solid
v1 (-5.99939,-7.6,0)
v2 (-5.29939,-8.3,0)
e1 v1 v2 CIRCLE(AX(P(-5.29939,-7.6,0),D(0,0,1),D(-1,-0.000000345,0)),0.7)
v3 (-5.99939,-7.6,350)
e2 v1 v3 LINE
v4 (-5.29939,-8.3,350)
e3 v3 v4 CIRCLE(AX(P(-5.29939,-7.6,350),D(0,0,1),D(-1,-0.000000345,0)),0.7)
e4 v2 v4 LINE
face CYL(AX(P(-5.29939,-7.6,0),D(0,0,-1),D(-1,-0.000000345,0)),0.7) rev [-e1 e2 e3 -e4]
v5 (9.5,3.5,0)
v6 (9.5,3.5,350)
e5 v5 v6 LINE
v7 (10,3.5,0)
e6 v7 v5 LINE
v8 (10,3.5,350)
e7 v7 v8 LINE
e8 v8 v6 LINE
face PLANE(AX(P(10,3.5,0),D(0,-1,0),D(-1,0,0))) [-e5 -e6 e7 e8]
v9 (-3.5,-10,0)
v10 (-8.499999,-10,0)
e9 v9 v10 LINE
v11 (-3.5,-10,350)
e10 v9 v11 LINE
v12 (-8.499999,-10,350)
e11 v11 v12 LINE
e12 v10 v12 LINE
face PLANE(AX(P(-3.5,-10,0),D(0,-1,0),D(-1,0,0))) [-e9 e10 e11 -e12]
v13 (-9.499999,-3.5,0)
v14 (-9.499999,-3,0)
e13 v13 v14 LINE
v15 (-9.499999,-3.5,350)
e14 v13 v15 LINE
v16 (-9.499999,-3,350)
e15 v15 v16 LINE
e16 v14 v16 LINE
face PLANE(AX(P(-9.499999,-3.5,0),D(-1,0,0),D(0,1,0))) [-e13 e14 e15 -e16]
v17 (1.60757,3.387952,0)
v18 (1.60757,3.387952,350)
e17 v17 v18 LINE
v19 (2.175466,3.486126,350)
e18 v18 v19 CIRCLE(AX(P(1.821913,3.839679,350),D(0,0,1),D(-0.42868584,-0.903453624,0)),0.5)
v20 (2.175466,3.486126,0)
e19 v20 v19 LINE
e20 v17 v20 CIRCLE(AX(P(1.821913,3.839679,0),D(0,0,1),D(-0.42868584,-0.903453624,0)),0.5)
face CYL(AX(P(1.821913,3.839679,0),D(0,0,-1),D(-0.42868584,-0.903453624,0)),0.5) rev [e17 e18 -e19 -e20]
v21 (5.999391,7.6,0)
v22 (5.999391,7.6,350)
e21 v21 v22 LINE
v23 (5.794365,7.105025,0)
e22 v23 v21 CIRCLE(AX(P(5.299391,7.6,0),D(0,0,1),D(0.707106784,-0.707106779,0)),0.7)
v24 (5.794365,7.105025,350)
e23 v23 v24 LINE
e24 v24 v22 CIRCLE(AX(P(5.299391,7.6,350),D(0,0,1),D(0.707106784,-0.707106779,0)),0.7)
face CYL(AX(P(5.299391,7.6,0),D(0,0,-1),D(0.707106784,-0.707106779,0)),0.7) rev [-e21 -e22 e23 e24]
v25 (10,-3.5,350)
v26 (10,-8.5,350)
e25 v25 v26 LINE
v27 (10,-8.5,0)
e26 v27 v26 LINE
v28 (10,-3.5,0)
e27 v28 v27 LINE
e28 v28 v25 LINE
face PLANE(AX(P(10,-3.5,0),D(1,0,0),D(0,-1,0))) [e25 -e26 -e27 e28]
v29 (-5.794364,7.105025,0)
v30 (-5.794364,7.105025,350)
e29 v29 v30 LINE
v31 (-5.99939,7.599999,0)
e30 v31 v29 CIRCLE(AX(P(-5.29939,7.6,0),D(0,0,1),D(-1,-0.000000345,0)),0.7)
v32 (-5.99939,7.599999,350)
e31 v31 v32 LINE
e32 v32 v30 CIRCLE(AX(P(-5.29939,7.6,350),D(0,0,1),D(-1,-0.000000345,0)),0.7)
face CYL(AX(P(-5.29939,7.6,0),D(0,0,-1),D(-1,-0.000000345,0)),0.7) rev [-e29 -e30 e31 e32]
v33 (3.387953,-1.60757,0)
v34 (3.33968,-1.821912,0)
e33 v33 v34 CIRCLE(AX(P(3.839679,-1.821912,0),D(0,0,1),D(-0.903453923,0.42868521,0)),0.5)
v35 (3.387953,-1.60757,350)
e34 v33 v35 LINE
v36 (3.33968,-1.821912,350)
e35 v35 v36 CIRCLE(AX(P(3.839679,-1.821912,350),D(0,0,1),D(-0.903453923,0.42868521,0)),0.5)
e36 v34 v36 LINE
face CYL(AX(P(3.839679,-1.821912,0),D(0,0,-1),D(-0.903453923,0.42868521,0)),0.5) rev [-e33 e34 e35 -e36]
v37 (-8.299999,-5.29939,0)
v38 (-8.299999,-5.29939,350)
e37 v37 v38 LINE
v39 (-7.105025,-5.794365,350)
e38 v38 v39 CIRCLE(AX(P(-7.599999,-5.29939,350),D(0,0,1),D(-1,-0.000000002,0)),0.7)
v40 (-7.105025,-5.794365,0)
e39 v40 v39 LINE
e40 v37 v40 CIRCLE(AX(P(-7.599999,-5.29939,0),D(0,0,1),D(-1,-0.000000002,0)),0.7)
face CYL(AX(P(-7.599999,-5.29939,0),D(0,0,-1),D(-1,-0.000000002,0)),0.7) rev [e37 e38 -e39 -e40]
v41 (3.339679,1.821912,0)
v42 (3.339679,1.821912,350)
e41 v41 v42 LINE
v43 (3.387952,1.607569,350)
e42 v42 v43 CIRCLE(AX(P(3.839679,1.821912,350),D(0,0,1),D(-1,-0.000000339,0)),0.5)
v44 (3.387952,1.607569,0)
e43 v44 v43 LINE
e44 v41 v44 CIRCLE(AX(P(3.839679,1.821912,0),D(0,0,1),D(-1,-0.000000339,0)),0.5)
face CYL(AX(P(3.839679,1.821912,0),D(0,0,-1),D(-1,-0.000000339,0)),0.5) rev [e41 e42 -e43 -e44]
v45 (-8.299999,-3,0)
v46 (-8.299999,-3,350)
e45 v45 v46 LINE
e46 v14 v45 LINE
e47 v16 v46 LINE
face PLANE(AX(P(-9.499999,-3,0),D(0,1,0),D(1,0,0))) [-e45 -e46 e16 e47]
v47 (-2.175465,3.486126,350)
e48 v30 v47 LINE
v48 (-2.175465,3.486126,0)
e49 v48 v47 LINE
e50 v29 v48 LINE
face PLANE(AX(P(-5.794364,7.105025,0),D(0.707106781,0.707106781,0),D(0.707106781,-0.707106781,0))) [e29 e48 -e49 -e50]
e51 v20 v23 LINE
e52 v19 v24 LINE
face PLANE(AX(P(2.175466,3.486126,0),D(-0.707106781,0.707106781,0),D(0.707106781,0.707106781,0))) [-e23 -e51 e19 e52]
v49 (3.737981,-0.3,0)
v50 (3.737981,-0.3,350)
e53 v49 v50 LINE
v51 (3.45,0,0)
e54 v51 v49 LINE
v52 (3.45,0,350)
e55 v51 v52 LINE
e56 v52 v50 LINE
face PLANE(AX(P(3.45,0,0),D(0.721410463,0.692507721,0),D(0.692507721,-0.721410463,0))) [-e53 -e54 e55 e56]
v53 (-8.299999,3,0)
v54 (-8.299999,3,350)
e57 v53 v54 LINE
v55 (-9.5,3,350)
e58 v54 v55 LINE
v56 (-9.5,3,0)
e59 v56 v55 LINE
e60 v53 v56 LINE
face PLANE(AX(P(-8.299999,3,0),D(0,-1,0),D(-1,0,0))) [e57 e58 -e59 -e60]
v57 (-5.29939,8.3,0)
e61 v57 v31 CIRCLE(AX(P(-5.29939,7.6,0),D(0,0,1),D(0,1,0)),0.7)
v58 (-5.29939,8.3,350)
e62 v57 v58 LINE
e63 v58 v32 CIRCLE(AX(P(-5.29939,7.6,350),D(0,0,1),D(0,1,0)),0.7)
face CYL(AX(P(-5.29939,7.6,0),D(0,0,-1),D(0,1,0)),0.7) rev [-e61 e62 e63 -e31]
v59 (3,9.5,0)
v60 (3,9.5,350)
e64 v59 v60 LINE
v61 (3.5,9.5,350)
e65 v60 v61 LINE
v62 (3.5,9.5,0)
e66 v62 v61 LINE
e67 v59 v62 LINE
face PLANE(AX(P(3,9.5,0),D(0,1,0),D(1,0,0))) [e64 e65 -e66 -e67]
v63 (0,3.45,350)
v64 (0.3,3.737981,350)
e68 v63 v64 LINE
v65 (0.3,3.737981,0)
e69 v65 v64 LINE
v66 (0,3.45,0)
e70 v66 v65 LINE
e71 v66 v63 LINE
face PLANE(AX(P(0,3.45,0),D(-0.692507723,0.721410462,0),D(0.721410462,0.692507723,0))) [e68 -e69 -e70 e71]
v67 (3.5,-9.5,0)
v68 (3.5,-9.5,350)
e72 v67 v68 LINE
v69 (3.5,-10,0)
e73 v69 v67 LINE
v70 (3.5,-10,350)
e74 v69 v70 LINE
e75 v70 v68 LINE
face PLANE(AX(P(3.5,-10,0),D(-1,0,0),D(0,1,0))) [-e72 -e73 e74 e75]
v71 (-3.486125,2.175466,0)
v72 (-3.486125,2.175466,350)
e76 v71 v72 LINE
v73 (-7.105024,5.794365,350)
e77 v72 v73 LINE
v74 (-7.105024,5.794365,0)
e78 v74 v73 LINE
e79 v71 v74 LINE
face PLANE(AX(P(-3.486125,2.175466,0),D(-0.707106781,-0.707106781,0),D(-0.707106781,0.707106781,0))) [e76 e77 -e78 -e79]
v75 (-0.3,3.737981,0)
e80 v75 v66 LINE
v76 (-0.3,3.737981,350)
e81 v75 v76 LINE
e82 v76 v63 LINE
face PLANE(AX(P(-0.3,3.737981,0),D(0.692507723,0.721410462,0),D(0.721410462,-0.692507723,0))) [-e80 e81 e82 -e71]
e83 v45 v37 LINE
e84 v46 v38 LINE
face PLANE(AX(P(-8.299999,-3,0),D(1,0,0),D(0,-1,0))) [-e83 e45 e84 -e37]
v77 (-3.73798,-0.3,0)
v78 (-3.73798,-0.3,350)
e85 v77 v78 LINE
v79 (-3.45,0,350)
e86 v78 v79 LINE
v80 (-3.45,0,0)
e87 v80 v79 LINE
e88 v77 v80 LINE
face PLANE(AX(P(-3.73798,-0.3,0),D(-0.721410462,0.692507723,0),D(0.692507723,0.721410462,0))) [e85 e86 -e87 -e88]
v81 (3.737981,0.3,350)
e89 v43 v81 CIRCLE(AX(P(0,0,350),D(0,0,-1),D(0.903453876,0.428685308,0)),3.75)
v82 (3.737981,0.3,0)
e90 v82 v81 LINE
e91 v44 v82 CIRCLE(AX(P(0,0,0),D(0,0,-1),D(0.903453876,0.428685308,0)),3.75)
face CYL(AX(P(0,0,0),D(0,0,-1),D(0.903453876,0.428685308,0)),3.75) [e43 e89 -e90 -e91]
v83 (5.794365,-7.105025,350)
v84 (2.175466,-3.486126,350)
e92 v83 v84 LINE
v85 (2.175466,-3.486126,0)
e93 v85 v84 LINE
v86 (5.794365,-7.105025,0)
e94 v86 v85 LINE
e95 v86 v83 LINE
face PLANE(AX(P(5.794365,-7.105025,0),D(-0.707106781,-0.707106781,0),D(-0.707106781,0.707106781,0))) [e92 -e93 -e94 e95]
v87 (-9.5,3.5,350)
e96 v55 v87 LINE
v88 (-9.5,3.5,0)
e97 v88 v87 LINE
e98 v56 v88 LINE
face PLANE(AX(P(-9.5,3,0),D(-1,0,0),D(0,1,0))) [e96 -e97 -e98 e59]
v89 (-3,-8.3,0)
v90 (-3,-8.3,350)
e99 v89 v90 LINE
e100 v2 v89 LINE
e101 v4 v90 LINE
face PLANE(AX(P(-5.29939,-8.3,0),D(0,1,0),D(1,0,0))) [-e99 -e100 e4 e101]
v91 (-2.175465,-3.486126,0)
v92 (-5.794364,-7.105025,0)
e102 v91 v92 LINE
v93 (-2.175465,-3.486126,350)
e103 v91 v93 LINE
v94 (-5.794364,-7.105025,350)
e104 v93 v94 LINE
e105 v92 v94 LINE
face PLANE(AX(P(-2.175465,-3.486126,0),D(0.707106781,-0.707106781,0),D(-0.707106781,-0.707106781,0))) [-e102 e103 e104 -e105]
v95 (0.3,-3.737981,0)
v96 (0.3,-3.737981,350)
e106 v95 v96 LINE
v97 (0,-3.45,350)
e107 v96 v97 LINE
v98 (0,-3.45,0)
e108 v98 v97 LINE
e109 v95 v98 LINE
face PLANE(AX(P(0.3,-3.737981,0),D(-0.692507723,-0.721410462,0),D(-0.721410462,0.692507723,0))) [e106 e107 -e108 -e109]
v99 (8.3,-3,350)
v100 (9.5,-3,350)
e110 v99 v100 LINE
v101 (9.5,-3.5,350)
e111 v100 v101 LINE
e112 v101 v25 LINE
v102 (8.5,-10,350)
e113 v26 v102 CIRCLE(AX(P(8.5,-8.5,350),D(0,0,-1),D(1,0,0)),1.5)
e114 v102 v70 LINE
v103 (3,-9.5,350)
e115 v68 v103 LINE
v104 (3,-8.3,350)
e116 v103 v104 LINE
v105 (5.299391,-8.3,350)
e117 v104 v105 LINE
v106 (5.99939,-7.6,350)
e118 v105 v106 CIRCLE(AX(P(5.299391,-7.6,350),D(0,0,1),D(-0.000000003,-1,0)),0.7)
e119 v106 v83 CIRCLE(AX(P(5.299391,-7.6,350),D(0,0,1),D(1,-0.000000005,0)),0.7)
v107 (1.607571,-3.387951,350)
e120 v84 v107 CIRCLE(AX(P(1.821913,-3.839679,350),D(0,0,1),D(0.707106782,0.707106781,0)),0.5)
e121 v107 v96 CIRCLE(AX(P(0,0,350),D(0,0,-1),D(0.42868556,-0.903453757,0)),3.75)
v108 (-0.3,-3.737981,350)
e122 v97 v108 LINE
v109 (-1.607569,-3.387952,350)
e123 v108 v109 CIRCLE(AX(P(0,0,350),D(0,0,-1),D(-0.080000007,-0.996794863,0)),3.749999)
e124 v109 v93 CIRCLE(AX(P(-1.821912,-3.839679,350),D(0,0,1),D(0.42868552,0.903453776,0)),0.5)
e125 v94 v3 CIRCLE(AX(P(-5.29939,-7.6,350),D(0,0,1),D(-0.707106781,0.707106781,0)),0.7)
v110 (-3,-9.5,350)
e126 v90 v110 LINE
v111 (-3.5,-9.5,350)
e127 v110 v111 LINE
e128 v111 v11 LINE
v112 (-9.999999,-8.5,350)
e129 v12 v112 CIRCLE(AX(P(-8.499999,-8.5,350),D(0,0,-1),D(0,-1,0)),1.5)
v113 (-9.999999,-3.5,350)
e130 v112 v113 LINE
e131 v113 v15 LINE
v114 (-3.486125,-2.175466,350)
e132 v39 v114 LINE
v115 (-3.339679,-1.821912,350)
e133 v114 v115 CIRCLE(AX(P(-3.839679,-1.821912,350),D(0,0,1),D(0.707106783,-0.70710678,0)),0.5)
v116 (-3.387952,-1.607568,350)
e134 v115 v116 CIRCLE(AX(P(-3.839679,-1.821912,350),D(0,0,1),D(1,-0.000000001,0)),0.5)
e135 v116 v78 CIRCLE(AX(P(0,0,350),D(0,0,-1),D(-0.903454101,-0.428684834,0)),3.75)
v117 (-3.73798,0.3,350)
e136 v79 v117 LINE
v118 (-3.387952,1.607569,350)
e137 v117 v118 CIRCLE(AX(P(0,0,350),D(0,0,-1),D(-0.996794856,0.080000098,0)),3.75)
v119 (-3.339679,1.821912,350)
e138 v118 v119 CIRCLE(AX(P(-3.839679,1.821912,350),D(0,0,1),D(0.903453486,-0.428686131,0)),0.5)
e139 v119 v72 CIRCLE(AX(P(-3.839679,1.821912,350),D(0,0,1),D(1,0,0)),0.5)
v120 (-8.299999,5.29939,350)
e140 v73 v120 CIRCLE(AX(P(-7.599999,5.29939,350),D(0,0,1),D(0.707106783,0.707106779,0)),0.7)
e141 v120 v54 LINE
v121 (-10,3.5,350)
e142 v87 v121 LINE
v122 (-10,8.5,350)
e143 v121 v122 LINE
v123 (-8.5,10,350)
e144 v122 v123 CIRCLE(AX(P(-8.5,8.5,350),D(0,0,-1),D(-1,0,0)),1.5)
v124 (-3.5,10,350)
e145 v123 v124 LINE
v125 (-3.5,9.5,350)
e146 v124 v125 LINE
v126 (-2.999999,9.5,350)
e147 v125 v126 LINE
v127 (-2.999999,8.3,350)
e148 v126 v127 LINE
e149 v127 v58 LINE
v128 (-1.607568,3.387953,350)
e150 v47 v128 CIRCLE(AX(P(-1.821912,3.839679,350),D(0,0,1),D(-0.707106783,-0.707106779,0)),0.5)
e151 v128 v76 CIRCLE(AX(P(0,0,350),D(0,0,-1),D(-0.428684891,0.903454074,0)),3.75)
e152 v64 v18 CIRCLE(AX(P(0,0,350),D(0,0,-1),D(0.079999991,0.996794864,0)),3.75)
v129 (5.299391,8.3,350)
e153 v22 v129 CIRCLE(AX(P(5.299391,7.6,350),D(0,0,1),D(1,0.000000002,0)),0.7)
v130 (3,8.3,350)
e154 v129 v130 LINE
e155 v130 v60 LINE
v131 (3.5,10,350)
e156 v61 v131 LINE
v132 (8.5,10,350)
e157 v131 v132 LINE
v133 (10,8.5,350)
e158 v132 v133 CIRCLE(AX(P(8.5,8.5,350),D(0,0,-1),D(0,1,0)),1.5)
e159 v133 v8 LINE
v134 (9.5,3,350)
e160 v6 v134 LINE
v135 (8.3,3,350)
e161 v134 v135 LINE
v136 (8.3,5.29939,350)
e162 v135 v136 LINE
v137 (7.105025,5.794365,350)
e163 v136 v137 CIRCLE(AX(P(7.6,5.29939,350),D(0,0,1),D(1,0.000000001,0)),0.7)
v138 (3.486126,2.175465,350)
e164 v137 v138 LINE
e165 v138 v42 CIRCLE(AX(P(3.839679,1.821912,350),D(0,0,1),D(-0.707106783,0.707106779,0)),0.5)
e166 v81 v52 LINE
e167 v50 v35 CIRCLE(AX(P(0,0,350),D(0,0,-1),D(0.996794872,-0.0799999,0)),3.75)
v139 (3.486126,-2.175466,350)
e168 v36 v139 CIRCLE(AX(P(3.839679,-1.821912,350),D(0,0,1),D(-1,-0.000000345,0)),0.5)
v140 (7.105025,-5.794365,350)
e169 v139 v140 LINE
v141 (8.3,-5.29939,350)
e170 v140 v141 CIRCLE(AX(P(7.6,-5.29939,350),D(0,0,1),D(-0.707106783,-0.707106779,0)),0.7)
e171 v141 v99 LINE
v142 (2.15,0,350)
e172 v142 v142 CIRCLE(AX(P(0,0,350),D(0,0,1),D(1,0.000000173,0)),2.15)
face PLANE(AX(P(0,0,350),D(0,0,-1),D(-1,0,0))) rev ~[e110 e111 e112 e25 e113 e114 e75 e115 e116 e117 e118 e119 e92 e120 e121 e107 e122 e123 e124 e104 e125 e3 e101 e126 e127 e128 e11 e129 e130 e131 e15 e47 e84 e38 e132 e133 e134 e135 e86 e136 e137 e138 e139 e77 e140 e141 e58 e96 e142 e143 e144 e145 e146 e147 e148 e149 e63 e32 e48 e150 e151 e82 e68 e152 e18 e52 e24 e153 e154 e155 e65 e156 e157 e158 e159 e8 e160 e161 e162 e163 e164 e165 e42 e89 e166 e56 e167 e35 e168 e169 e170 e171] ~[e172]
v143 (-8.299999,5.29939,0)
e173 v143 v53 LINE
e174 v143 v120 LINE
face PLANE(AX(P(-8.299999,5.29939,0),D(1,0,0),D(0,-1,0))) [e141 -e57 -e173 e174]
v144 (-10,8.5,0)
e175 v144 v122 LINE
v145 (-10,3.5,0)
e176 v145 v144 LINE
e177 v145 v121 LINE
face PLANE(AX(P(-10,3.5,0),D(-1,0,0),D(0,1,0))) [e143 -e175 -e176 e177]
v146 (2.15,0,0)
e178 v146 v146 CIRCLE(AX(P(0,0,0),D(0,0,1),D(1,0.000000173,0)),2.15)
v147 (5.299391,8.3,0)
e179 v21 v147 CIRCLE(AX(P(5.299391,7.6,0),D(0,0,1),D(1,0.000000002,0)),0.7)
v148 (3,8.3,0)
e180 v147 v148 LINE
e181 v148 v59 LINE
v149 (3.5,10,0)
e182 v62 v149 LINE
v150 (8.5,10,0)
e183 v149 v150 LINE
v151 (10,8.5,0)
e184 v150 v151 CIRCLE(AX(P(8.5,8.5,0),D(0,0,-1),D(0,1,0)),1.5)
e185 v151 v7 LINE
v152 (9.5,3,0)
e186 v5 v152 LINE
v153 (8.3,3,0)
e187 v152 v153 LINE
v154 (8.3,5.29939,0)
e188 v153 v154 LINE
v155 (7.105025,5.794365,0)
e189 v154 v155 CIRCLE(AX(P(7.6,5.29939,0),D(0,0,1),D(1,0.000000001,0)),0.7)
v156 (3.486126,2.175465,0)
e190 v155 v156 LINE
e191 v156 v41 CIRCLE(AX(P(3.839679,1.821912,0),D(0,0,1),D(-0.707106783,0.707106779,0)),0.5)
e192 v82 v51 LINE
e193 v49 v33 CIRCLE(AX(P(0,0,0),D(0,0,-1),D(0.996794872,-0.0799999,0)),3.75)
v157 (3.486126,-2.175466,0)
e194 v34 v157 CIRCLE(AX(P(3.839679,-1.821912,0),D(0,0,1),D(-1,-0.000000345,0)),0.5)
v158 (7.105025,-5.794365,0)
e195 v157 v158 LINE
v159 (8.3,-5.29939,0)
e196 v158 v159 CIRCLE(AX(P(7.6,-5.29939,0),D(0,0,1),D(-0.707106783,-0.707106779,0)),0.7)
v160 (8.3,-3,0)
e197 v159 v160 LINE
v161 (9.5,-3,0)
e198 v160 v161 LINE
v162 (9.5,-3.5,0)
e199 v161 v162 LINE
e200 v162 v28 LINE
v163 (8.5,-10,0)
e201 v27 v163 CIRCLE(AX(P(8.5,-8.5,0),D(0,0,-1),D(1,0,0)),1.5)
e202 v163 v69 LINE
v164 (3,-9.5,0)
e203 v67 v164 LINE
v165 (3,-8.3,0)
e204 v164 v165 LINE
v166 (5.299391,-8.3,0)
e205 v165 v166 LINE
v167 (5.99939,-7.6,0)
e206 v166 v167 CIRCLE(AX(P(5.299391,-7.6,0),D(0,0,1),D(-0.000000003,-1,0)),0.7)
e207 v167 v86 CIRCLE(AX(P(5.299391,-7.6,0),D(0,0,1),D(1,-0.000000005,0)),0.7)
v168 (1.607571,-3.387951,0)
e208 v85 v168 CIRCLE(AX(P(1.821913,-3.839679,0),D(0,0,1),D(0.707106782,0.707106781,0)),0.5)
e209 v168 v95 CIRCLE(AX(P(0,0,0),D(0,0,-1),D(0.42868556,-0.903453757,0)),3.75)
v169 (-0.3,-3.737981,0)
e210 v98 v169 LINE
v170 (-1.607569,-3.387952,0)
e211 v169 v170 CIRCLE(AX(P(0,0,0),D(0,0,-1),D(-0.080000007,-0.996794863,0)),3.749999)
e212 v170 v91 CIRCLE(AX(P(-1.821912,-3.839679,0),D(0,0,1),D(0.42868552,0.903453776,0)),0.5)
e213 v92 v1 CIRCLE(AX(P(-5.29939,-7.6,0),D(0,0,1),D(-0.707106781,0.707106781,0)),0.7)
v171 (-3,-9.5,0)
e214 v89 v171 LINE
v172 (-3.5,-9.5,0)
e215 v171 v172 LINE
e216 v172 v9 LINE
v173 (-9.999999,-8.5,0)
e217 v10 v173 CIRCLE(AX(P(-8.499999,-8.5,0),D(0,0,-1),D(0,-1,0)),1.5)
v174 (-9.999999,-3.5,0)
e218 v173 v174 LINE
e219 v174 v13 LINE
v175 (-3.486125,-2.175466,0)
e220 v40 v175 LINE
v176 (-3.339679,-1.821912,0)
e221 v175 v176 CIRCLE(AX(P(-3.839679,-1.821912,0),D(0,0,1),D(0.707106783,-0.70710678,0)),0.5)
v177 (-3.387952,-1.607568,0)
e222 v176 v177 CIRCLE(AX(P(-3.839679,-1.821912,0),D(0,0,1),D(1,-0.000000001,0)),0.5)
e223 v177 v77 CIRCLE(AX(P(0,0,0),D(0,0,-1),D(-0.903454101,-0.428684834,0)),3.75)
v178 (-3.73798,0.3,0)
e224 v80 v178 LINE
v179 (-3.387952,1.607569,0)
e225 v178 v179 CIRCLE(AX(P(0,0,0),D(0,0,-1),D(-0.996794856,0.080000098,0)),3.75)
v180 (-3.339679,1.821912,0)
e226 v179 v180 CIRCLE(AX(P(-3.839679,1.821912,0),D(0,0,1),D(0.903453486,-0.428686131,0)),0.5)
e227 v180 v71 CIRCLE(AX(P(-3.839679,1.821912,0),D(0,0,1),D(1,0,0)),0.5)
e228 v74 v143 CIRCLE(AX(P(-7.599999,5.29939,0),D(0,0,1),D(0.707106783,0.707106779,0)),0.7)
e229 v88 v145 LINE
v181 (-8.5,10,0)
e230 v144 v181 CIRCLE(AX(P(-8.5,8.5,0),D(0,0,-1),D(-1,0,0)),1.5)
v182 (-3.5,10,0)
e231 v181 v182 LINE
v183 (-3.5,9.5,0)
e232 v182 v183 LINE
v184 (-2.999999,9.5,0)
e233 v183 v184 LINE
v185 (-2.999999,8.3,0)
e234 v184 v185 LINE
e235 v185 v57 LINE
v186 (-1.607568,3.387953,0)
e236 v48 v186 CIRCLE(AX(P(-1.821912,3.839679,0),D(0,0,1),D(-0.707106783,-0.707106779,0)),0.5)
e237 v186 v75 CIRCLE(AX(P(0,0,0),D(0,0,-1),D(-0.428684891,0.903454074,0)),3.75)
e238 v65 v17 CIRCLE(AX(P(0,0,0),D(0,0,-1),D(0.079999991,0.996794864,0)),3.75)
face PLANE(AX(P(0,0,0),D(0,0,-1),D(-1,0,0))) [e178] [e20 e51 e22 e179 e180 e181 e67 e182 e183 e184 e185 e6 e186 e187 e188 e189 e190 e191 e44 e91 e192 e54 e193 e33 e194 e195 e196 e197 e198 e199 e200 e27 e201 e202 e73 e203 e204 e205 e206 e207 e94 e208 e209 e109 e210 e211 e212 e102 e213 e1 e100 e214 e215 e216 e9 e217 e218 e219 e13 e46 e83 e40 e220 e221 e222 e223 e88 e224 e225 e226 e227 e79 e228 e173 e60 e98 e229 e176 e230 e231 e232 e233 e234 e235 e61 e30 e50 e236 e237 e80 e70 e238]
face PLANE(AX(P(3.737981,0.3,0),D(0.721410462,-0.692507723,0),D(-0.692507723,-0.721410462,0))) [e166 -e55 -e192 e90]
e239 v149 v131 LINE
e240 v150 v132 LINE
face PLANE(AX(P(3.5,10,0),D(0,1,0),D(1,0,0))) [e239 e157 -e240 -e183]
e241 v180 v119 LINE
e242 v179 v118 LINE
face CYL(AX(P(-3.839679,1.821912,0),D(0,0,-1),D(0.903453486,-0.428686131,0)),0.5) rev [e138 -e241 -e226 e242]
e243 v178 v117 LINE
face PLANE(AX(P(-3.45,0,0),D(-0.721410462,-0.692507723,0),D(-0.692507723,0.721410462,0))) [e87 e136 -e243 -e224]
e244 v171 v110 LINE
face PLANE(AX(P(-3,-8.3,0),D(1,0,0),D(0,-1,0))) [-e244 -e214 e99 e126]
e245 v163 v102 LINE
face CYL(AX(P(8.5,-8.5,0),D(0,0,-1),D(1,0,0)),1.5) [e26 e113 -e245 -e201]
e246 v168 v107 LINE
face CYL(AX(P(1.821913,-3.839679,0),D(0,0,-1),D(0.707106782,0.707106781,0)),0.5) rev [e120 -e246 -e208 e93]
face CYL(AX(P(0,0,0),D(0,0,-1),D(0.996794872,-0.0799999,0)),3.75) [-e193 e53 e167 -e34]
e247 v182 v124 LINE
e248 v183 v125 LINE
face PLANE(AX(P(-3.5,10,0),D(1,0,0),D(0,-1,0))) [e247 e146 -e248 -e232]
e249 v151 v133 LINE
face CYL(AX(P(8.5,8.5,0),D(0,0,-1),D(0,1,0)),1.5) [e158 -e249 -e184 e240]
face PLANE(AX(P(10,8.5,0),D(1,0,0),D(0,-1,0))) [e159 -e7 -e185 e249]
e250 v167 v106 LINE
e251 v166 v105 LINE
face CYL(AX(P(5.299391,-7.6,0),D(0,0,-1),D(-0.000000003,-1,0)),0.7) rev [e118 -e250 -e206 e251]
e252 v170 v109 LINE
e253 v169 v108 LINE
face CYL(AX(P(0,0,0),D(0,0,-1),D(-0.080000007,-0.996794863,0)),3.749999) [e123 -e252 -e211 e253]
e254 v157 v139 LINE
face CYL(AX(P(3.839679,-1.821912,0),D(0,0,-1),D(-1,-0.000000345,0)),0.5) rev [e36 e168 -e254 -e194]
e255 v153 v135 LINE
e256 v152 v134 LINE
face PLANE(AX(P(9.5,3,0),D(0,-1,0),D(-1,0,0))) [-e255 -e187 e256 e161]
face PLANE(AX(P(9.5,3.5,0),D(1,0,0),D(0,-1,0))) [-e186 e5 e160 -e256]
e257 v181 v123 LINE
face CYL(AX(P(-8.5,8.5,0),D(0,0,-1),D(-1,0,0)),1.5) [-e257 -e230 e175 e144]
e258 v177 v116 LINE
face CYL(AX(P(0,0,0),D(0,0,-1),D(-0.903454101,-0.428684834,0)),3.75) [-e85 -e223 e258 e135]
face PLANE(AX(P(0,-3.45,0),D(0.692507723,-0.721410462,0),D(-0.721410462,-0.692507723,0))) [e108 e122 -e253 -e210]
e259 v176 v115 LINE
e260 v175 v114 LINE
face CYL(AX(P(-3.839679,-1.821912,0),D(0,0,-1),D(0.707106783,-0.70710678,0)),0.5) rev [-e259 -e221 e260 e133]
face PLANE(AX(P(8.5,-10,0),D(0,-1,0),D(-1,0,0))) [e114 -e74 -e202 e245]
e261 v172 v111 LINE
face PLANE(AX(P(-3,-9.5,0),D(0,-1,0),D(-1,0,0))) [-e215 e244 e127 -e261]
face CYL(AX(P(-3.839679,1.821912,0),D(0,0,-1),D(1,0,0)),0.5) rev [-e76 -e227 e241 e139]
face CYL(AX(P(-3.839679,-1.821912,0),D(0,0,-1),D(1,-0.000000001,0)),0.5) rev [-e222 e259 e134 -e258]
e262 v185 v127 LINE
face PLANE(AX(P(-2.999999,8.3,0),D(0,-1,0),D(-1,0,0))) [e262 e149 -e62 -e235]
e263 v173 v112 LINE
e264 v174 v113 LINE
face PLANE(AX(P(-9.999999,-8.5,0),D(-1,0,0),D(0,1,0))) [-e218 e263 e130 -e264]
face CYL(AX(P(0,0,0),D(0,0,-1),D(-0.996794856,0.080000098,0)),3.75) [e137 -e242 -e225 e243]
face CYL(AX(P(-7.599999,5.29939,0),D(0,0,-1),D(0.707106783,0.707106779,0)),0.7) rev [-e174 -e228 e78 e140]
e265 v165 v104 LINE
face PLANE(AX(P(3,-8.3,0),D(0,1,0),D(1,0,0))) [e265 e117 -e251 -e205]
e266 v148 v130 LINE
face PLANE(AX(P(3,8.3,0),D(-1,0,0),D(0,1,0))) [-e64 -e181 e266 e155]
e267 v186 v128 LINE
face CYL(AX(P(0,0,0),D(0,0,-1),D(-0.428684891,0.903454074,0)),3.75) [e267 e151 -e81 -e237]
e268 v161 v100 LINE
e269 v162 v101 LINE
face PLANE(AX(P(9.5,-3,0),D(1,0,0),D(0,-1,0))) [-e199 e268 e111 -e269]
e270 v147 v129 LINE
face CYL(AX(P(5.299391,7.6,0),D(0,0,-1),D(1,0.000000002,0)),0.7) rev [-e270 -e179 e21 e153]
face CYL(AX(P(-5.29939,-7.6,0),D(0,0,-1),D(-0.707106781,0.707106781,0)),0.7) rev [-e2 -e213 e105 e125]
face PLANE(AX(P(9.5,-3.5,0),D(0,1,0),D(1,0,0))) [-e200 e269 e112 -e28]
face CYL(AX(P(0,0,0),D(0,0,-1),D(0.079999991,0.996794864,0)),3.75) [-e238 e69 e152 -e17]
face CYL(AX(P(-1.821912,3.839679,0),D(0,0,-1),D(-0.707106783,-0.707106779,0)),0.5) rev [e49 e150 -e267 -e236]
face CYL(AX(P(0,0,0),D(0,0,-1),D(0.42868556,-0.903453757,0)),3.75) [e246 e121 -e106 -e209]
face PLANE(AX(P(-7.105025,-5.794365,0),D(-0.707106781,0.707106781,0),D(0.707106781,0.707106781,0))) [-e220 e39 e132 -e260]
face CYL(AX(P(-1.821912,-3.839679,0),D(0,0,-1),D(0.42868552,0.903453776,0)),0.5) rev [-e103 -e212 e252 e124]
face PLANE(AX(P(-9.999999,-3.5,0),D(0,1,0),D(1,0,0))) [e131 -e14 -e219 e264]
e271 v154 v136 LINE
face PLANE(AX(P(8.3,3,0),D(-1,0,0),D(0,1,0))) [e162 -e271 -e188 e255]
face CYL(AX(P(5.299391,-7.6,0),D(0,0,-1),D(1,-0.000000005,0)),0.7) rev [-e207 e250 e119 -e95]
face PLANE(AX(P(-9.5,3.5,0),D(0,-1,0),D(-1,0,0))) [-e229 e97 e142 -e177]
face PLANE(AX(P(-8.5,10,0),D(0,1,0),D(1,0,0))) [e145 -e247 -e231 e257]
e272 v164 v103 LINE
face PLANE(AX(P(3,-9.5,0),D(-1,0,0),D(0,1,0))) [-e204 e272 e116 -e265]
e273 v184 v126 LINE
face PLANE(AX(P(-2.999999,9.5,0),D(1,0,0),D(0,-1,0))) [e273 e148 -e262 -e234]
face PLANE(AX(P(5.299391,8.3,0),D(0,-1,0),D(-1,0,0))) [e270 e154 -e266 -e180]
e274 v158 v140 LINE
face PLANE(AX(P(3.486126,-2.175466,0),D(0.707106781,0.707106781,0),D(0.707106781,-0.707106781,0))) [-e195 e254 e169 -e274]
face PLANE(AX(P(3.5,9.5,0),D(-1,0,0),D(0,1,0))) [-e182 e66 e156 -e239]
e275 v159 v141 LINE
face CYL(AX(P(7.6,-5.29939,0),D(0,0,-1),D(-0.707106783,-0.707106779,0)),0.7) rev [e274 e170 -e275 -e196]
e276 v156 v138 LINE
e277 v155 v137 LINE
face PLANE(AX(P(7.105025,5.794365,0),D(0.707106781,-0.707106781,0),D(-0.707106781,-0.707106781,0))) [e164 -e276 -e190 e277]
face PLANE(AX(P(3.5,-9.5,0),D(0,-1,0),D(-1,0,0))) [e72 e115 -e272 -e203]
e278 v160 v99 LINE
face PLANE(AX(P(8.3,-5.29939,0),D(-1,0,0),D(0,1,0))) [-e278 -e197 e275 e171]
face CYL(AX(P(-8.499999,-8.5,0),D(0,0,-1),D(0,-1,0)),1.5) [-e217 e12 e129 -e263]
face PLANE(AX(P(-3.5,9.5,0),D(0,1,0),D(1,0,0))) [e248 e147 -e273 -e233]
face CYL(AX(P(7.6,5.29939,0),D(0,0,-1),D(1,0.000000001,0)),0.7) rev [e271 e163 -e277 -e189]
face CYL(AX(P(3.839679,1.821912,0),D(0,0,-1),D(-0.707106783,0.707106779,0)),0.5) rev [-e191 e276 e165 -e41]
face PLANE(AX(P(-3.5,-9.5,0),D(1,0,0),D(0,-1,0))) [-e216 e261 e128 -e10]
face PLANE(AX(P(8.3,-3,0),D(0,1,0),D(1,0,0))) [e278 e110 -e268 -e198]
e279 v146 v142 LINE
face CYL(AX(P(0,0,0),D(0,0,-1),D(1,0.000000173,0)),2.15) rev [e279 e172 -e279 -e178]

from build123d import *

# Parameters (mm, degrees)
SALIENTE_EXTRUIR1_DEPTH = 350


with BuildPart() as part:
    # Model → Saliente-Extruir1 (new body)
    with BuildSketch(Plane.XY):
        with BuildLine():
            Line((-3.499999575, -9.499999701), (-3.499999575, -9.999999682))
            Line((-3.499999575, -9.999999682), (-8.499999389, -9.999999682))
            ThreePointArc((-8.499999389, -9.999999682), (-9.560659521, -9.56065987), (-9.999999333, -8.499999738))
            Line((-9.999999333, -8.499999738), (-9.999999333, -3.499999924))
            Line((-9.999999333, -3.499999924), (-9.499999352, -3.499999924))
            Line((-9.499999352, -3.499999924), (-9.499999352, -2.999999943))
            Line((-9.499999352, -2.999999943), (-8.299999404, -2.999999943))
            Line((-8.299999404, -2.999999943), (-8.299999404, -5.299390189))
            ThreePointArc((-8.299999404, -5.299390189), (-7.867877821, -5.946105837), (-7.1050247, -5.794364915))
            Line((-7.1050247, -5.794364915), (-3.486125369, -2.175465583))
            ThreePointArc((-3.486125369, -2.175465583), (-3.377738998, -2.013253915), (-3.339678766, -1.821912207))
            ThreePointArc((-3.339678766, -1.821912207), (-3.351896436, -1.712055945), (-3.38795236, -1.607568434))
            ThreePointArc((-3.38795236, -1.607568434), (-3.62245257, -0.969708302), (-3.737980238, -0.299999966))
            Line((-3.737980238, -0.299999966), (-3.449999511, 2.3e-08))
            Line((-3.449999511, 2.3e-08), (-3.737980238, 0.300000012))
            ThreePointArc((-3.737980238, 0.300000012), (-3.622452342, 0.969708679), (-3.387951787, 1.607569073))
            ThreePointArc((-3.387951787, 1.607569073), (-3.351896115, 1.712056255), (-3.339678532, 1.821912131))
            ThreePointArc((-3.339678532, 1.821912131), (-3.377738764, 2.013253839), (-3.486125135, 2.175465507))
            Line((-3.486125135, 2.175465507), (-7.105024467, 5.794364839))
            ThreePointArc((-7.105024467, 5.794364839), (-7.867877588, 5.946105761), (-8.29999917, 5.299390113))
            Line((-8.29999917, 5.299390113), (-8.29999917, 2.999999906))
            Line((-8.29999917, 2.999999906), (-9.499999593, 2.999999906))
            Line((-9.499999593, 2.999999906), (-9.499999593, 3.499999887))
            Line((-9.499999593, 3.499999887), (-9.999999574, 3.499999887))
            Line((-9.999999574, 3.499999887), (-9.999999574, 8.499999701))
            ThreePointArc((-9.999999574, 8.499999701), (-9.560659762, 9.560659833), (-8.49999963, 9.999999645))
            Line((-8.49999963, 9.999999645), (-3.499999816, 9.999999645))
            Line((-3.499999816, 9.999999645), (-3.499999816, 9.499999664))
            Line((-3.499999816, 9.499999664), (-2.999999429, 9.499999664))
            Line((-2.999999429, 9.499999664), (-2.999999429, 8.299999713))
            Line((-2.999999429, 8.299999713), (-5.299389679, 8.299999713))
            ThreePointArc((-5.299389679, 8.299999713), (-5.794364493, 8.094974382), (-5.999389653, 7.599999496))
            ThreePointArc((-5.999389653, 7.599999496), (-5.946105282, 7.332121235), (-5.794364409, 7.105025012))
            Line((-5.794364409, 7.105025012), (-2.175465068, 3.486125671))
            ThreePointArc((-2.175465068, 3.486125671), (-1.907084002, 3.346986792), (-1.607568017, 3.387952613))
            ThreePointArc((-1.607568017, 3.387952613), (-0.969707896, 3.622452871), (-0.299999565, 3.737980599))
            Line((-0.299999565, 3.737980599), (4.24e-07, 3.449999872))
            Line((4.24e-07, 3.449999872), (0.300000413, 3.737980599))
            ThreePointArc((0.300000413, 3.737980599), (0.969709153, 3.622452763), (1.607569631, 3.387952251))
            ThreePointArc((1.607569631, 3.387952251), (1.907085269, 3.346986863), (2.175465919, 3.486125671))
            Line((2.175465919, 3.486125671), (5.794365261, 7.105025012))
            ThreePointArc((5.794365261, 7.105025012), (5.94610618, 7.332121347), (5.999390505, 7.599999739))
            ThreePointArc((5.999390505, 7.599999739), (5.794365259, 8.094974467), (5.299390531, 8.299999713))
            Line((5.299390531, 8.299999713), (3.000000281, 8.299999713))
            Line((3.000000281, 8.299999713), (3.000000281, 9.499999668))
            Line((3.000000281, 9.499999668), (3.500000262, 9.499999668))
            Line((3.500000262, 9.499999668), (3.500000262, 9.99999965))
            Line((3.500000262, 9.99999965), (8.500000076, 9.99999965))
            ThreePointArc((8.500000076, 9.99999965), (9.560660208, 9.560659838), (10.00000002, 8.499999705))
            Line((10.00000002, 8.499999705), (10.00000002, 3.499999793))
            Line((10.00000002, 3.499999793), (9.499999853, 3.499999793))
            Line((9.499999853, 3.499999793), (9.499999853, 2.999999811))
            Line((9.499999853, 2.999999811), (8.299999905, 2.999999811))
            Line((8.299999905, 2.999999811), (8.299999905, 5.299390058))
            ThreePointArc((8.299999905, 5.299390058), (7.867878323, 5.946105706), (7.105025201, 5.794364783))
            Line((7.105025201, 5.794364783), (3.48612587, 2.175465452))
            ThreePointArc((3.48612587, 2.175465452), (3.377739466, 2.013253704), (3.339679267, 1.821911902))
            ThreePointArc((3.339679267, 1.821911902), (3.351896813, 1.712056363), (3.387952305, 1.607569476))
            ThreePointArc((3.387952305, 1.607569476), (3.622453002, 0.969708895), (3.73798096, 0.300000012))
            Line((3.73798096, 0.300000012), (3.450000233, 2.3e-08))
            Line((3.450000233, 2.3e-08), (3.73798096, -0.299999967))
            ThreePointArc((3.73798096, -0.299999967), (3.622453128, -0.969708902), (3.387952538, -1.607569553))
            ThreePointArc((3.387952538, -1.607569553), (3.351897009, -1.712056609), (3.339679501, -1.821912325))
            ThreePointArc((3.339679501, -1.821912325), (3.377739766, -2.01325394), (3.486126104, -2.175465528))
            Line((3.486126104, -2.175465528), (7.105025435, -5.79436486))
            ThreePointArc((7.105025435, -5.79436486), (7.867878557, -5.946105782), (8.300000139, -5.299390134))
            Line((8.300000139, -5.299390134), (8.300000139, -2.999999888))
            Line((8.300000139, -2.999999888), (9.500000087, -2.999999888))
            Line((9.500000087, -2.999999888), (9.500000087, -3.499999869))
            Line((9.500000087, -3.499999869), (10.000000005, -3.499999869))
            Line((10.000000005, -3.499999869), (10.000000005, -8.499999639))
            ThreePointArc((10.000000005, -8.499999639), (9.560660193, -9.560659771), (8.500000061, -9.999999583))
            Line((8.500000061, -9.999999583), (3.500000247, -9.999999583))
            Line((3.500000247, -9.999999583), (3.500000247, -9.499999602))
            Line((3.500000247, -9.499999602), (3.000000266, -9.499999602))
            Line((3.000000266, -9.499999602), (3.000000266, -8.299999646))
            Line((3.000000266, -8.299999646), (5.299390515, -8.299999646))
            ThreePointArc((5.299390515, -8.299999646), (5.794365244, -8.094974401), (5.999390489, -7.599999672))
            ThreePointArc((5.999390489, -7.599999672), (5.946106165, -7.332121281), (5.794365245, -7.105024946))
            Line((5.794365245, -7.105024946), (2.175465904, -3.486125604))
            ThreePointArc((2.175465904, -3.486125604), (1.907086046, -3.346986934), (1.607571067, -3.387951495))
            ThreePointArc((1.607571067, -3.387951495), (0.969709928, -3.622452532), (0.300000413, -3.737980599))
            Line((0.300000413, -3.737980599), (4.24e-07, -3.449999872))
            Line((4.24e-07, -3.449999872), (-0.299999565, -3.737980599))
            ThreePointArc((-0.299999565, -3.737980599), (-0.969708386, -3.622452718), (-1.607568921, -3.38795211))
            ThreePointArc((-1.607568921, -3.38795211), (-1.907084488, -3.346986812), (-2.175465053, -3.486125604))
            Line((-2.175465053, -3.486125604), (-5.794364394, -7.105024946))
            ThreePointArc((-5.794364394, -7.105024946), (-5.94610536, -7.332121393), (-5.999389638, -7.599999915))
            ThreePointArc((-5.999389638, -7.599999915), (-5.794364307, -8.094974487), (-5.299389664, -8.299999647))
            Line((-5.299389664, -8.299999647), (-2.999999594, -8.299999647))
            Line((-2.999999594, -8.299999647), (-2.999999594, -9.499999701))
            Line((-2.999999594, -9.499999701), (-3.499999575, -9.499999701))
        make_face()
        with BuildLine():
            ThreePointArc((-2.149999494, -7.27e-07), (7.98e-07, -2.150000275), (2.150000346, 1.7e-08))
            ThreePointArc((2.150000346, 1.7e-08), (5.3e-08, 2.149999565), (-2.149999494, -7.27e-07))
        make_face(mode=Mode.SUBTRACT)
    extrude(amount=SALIENTE_EXTRUIR1_DEPTH)


solid = part.part
